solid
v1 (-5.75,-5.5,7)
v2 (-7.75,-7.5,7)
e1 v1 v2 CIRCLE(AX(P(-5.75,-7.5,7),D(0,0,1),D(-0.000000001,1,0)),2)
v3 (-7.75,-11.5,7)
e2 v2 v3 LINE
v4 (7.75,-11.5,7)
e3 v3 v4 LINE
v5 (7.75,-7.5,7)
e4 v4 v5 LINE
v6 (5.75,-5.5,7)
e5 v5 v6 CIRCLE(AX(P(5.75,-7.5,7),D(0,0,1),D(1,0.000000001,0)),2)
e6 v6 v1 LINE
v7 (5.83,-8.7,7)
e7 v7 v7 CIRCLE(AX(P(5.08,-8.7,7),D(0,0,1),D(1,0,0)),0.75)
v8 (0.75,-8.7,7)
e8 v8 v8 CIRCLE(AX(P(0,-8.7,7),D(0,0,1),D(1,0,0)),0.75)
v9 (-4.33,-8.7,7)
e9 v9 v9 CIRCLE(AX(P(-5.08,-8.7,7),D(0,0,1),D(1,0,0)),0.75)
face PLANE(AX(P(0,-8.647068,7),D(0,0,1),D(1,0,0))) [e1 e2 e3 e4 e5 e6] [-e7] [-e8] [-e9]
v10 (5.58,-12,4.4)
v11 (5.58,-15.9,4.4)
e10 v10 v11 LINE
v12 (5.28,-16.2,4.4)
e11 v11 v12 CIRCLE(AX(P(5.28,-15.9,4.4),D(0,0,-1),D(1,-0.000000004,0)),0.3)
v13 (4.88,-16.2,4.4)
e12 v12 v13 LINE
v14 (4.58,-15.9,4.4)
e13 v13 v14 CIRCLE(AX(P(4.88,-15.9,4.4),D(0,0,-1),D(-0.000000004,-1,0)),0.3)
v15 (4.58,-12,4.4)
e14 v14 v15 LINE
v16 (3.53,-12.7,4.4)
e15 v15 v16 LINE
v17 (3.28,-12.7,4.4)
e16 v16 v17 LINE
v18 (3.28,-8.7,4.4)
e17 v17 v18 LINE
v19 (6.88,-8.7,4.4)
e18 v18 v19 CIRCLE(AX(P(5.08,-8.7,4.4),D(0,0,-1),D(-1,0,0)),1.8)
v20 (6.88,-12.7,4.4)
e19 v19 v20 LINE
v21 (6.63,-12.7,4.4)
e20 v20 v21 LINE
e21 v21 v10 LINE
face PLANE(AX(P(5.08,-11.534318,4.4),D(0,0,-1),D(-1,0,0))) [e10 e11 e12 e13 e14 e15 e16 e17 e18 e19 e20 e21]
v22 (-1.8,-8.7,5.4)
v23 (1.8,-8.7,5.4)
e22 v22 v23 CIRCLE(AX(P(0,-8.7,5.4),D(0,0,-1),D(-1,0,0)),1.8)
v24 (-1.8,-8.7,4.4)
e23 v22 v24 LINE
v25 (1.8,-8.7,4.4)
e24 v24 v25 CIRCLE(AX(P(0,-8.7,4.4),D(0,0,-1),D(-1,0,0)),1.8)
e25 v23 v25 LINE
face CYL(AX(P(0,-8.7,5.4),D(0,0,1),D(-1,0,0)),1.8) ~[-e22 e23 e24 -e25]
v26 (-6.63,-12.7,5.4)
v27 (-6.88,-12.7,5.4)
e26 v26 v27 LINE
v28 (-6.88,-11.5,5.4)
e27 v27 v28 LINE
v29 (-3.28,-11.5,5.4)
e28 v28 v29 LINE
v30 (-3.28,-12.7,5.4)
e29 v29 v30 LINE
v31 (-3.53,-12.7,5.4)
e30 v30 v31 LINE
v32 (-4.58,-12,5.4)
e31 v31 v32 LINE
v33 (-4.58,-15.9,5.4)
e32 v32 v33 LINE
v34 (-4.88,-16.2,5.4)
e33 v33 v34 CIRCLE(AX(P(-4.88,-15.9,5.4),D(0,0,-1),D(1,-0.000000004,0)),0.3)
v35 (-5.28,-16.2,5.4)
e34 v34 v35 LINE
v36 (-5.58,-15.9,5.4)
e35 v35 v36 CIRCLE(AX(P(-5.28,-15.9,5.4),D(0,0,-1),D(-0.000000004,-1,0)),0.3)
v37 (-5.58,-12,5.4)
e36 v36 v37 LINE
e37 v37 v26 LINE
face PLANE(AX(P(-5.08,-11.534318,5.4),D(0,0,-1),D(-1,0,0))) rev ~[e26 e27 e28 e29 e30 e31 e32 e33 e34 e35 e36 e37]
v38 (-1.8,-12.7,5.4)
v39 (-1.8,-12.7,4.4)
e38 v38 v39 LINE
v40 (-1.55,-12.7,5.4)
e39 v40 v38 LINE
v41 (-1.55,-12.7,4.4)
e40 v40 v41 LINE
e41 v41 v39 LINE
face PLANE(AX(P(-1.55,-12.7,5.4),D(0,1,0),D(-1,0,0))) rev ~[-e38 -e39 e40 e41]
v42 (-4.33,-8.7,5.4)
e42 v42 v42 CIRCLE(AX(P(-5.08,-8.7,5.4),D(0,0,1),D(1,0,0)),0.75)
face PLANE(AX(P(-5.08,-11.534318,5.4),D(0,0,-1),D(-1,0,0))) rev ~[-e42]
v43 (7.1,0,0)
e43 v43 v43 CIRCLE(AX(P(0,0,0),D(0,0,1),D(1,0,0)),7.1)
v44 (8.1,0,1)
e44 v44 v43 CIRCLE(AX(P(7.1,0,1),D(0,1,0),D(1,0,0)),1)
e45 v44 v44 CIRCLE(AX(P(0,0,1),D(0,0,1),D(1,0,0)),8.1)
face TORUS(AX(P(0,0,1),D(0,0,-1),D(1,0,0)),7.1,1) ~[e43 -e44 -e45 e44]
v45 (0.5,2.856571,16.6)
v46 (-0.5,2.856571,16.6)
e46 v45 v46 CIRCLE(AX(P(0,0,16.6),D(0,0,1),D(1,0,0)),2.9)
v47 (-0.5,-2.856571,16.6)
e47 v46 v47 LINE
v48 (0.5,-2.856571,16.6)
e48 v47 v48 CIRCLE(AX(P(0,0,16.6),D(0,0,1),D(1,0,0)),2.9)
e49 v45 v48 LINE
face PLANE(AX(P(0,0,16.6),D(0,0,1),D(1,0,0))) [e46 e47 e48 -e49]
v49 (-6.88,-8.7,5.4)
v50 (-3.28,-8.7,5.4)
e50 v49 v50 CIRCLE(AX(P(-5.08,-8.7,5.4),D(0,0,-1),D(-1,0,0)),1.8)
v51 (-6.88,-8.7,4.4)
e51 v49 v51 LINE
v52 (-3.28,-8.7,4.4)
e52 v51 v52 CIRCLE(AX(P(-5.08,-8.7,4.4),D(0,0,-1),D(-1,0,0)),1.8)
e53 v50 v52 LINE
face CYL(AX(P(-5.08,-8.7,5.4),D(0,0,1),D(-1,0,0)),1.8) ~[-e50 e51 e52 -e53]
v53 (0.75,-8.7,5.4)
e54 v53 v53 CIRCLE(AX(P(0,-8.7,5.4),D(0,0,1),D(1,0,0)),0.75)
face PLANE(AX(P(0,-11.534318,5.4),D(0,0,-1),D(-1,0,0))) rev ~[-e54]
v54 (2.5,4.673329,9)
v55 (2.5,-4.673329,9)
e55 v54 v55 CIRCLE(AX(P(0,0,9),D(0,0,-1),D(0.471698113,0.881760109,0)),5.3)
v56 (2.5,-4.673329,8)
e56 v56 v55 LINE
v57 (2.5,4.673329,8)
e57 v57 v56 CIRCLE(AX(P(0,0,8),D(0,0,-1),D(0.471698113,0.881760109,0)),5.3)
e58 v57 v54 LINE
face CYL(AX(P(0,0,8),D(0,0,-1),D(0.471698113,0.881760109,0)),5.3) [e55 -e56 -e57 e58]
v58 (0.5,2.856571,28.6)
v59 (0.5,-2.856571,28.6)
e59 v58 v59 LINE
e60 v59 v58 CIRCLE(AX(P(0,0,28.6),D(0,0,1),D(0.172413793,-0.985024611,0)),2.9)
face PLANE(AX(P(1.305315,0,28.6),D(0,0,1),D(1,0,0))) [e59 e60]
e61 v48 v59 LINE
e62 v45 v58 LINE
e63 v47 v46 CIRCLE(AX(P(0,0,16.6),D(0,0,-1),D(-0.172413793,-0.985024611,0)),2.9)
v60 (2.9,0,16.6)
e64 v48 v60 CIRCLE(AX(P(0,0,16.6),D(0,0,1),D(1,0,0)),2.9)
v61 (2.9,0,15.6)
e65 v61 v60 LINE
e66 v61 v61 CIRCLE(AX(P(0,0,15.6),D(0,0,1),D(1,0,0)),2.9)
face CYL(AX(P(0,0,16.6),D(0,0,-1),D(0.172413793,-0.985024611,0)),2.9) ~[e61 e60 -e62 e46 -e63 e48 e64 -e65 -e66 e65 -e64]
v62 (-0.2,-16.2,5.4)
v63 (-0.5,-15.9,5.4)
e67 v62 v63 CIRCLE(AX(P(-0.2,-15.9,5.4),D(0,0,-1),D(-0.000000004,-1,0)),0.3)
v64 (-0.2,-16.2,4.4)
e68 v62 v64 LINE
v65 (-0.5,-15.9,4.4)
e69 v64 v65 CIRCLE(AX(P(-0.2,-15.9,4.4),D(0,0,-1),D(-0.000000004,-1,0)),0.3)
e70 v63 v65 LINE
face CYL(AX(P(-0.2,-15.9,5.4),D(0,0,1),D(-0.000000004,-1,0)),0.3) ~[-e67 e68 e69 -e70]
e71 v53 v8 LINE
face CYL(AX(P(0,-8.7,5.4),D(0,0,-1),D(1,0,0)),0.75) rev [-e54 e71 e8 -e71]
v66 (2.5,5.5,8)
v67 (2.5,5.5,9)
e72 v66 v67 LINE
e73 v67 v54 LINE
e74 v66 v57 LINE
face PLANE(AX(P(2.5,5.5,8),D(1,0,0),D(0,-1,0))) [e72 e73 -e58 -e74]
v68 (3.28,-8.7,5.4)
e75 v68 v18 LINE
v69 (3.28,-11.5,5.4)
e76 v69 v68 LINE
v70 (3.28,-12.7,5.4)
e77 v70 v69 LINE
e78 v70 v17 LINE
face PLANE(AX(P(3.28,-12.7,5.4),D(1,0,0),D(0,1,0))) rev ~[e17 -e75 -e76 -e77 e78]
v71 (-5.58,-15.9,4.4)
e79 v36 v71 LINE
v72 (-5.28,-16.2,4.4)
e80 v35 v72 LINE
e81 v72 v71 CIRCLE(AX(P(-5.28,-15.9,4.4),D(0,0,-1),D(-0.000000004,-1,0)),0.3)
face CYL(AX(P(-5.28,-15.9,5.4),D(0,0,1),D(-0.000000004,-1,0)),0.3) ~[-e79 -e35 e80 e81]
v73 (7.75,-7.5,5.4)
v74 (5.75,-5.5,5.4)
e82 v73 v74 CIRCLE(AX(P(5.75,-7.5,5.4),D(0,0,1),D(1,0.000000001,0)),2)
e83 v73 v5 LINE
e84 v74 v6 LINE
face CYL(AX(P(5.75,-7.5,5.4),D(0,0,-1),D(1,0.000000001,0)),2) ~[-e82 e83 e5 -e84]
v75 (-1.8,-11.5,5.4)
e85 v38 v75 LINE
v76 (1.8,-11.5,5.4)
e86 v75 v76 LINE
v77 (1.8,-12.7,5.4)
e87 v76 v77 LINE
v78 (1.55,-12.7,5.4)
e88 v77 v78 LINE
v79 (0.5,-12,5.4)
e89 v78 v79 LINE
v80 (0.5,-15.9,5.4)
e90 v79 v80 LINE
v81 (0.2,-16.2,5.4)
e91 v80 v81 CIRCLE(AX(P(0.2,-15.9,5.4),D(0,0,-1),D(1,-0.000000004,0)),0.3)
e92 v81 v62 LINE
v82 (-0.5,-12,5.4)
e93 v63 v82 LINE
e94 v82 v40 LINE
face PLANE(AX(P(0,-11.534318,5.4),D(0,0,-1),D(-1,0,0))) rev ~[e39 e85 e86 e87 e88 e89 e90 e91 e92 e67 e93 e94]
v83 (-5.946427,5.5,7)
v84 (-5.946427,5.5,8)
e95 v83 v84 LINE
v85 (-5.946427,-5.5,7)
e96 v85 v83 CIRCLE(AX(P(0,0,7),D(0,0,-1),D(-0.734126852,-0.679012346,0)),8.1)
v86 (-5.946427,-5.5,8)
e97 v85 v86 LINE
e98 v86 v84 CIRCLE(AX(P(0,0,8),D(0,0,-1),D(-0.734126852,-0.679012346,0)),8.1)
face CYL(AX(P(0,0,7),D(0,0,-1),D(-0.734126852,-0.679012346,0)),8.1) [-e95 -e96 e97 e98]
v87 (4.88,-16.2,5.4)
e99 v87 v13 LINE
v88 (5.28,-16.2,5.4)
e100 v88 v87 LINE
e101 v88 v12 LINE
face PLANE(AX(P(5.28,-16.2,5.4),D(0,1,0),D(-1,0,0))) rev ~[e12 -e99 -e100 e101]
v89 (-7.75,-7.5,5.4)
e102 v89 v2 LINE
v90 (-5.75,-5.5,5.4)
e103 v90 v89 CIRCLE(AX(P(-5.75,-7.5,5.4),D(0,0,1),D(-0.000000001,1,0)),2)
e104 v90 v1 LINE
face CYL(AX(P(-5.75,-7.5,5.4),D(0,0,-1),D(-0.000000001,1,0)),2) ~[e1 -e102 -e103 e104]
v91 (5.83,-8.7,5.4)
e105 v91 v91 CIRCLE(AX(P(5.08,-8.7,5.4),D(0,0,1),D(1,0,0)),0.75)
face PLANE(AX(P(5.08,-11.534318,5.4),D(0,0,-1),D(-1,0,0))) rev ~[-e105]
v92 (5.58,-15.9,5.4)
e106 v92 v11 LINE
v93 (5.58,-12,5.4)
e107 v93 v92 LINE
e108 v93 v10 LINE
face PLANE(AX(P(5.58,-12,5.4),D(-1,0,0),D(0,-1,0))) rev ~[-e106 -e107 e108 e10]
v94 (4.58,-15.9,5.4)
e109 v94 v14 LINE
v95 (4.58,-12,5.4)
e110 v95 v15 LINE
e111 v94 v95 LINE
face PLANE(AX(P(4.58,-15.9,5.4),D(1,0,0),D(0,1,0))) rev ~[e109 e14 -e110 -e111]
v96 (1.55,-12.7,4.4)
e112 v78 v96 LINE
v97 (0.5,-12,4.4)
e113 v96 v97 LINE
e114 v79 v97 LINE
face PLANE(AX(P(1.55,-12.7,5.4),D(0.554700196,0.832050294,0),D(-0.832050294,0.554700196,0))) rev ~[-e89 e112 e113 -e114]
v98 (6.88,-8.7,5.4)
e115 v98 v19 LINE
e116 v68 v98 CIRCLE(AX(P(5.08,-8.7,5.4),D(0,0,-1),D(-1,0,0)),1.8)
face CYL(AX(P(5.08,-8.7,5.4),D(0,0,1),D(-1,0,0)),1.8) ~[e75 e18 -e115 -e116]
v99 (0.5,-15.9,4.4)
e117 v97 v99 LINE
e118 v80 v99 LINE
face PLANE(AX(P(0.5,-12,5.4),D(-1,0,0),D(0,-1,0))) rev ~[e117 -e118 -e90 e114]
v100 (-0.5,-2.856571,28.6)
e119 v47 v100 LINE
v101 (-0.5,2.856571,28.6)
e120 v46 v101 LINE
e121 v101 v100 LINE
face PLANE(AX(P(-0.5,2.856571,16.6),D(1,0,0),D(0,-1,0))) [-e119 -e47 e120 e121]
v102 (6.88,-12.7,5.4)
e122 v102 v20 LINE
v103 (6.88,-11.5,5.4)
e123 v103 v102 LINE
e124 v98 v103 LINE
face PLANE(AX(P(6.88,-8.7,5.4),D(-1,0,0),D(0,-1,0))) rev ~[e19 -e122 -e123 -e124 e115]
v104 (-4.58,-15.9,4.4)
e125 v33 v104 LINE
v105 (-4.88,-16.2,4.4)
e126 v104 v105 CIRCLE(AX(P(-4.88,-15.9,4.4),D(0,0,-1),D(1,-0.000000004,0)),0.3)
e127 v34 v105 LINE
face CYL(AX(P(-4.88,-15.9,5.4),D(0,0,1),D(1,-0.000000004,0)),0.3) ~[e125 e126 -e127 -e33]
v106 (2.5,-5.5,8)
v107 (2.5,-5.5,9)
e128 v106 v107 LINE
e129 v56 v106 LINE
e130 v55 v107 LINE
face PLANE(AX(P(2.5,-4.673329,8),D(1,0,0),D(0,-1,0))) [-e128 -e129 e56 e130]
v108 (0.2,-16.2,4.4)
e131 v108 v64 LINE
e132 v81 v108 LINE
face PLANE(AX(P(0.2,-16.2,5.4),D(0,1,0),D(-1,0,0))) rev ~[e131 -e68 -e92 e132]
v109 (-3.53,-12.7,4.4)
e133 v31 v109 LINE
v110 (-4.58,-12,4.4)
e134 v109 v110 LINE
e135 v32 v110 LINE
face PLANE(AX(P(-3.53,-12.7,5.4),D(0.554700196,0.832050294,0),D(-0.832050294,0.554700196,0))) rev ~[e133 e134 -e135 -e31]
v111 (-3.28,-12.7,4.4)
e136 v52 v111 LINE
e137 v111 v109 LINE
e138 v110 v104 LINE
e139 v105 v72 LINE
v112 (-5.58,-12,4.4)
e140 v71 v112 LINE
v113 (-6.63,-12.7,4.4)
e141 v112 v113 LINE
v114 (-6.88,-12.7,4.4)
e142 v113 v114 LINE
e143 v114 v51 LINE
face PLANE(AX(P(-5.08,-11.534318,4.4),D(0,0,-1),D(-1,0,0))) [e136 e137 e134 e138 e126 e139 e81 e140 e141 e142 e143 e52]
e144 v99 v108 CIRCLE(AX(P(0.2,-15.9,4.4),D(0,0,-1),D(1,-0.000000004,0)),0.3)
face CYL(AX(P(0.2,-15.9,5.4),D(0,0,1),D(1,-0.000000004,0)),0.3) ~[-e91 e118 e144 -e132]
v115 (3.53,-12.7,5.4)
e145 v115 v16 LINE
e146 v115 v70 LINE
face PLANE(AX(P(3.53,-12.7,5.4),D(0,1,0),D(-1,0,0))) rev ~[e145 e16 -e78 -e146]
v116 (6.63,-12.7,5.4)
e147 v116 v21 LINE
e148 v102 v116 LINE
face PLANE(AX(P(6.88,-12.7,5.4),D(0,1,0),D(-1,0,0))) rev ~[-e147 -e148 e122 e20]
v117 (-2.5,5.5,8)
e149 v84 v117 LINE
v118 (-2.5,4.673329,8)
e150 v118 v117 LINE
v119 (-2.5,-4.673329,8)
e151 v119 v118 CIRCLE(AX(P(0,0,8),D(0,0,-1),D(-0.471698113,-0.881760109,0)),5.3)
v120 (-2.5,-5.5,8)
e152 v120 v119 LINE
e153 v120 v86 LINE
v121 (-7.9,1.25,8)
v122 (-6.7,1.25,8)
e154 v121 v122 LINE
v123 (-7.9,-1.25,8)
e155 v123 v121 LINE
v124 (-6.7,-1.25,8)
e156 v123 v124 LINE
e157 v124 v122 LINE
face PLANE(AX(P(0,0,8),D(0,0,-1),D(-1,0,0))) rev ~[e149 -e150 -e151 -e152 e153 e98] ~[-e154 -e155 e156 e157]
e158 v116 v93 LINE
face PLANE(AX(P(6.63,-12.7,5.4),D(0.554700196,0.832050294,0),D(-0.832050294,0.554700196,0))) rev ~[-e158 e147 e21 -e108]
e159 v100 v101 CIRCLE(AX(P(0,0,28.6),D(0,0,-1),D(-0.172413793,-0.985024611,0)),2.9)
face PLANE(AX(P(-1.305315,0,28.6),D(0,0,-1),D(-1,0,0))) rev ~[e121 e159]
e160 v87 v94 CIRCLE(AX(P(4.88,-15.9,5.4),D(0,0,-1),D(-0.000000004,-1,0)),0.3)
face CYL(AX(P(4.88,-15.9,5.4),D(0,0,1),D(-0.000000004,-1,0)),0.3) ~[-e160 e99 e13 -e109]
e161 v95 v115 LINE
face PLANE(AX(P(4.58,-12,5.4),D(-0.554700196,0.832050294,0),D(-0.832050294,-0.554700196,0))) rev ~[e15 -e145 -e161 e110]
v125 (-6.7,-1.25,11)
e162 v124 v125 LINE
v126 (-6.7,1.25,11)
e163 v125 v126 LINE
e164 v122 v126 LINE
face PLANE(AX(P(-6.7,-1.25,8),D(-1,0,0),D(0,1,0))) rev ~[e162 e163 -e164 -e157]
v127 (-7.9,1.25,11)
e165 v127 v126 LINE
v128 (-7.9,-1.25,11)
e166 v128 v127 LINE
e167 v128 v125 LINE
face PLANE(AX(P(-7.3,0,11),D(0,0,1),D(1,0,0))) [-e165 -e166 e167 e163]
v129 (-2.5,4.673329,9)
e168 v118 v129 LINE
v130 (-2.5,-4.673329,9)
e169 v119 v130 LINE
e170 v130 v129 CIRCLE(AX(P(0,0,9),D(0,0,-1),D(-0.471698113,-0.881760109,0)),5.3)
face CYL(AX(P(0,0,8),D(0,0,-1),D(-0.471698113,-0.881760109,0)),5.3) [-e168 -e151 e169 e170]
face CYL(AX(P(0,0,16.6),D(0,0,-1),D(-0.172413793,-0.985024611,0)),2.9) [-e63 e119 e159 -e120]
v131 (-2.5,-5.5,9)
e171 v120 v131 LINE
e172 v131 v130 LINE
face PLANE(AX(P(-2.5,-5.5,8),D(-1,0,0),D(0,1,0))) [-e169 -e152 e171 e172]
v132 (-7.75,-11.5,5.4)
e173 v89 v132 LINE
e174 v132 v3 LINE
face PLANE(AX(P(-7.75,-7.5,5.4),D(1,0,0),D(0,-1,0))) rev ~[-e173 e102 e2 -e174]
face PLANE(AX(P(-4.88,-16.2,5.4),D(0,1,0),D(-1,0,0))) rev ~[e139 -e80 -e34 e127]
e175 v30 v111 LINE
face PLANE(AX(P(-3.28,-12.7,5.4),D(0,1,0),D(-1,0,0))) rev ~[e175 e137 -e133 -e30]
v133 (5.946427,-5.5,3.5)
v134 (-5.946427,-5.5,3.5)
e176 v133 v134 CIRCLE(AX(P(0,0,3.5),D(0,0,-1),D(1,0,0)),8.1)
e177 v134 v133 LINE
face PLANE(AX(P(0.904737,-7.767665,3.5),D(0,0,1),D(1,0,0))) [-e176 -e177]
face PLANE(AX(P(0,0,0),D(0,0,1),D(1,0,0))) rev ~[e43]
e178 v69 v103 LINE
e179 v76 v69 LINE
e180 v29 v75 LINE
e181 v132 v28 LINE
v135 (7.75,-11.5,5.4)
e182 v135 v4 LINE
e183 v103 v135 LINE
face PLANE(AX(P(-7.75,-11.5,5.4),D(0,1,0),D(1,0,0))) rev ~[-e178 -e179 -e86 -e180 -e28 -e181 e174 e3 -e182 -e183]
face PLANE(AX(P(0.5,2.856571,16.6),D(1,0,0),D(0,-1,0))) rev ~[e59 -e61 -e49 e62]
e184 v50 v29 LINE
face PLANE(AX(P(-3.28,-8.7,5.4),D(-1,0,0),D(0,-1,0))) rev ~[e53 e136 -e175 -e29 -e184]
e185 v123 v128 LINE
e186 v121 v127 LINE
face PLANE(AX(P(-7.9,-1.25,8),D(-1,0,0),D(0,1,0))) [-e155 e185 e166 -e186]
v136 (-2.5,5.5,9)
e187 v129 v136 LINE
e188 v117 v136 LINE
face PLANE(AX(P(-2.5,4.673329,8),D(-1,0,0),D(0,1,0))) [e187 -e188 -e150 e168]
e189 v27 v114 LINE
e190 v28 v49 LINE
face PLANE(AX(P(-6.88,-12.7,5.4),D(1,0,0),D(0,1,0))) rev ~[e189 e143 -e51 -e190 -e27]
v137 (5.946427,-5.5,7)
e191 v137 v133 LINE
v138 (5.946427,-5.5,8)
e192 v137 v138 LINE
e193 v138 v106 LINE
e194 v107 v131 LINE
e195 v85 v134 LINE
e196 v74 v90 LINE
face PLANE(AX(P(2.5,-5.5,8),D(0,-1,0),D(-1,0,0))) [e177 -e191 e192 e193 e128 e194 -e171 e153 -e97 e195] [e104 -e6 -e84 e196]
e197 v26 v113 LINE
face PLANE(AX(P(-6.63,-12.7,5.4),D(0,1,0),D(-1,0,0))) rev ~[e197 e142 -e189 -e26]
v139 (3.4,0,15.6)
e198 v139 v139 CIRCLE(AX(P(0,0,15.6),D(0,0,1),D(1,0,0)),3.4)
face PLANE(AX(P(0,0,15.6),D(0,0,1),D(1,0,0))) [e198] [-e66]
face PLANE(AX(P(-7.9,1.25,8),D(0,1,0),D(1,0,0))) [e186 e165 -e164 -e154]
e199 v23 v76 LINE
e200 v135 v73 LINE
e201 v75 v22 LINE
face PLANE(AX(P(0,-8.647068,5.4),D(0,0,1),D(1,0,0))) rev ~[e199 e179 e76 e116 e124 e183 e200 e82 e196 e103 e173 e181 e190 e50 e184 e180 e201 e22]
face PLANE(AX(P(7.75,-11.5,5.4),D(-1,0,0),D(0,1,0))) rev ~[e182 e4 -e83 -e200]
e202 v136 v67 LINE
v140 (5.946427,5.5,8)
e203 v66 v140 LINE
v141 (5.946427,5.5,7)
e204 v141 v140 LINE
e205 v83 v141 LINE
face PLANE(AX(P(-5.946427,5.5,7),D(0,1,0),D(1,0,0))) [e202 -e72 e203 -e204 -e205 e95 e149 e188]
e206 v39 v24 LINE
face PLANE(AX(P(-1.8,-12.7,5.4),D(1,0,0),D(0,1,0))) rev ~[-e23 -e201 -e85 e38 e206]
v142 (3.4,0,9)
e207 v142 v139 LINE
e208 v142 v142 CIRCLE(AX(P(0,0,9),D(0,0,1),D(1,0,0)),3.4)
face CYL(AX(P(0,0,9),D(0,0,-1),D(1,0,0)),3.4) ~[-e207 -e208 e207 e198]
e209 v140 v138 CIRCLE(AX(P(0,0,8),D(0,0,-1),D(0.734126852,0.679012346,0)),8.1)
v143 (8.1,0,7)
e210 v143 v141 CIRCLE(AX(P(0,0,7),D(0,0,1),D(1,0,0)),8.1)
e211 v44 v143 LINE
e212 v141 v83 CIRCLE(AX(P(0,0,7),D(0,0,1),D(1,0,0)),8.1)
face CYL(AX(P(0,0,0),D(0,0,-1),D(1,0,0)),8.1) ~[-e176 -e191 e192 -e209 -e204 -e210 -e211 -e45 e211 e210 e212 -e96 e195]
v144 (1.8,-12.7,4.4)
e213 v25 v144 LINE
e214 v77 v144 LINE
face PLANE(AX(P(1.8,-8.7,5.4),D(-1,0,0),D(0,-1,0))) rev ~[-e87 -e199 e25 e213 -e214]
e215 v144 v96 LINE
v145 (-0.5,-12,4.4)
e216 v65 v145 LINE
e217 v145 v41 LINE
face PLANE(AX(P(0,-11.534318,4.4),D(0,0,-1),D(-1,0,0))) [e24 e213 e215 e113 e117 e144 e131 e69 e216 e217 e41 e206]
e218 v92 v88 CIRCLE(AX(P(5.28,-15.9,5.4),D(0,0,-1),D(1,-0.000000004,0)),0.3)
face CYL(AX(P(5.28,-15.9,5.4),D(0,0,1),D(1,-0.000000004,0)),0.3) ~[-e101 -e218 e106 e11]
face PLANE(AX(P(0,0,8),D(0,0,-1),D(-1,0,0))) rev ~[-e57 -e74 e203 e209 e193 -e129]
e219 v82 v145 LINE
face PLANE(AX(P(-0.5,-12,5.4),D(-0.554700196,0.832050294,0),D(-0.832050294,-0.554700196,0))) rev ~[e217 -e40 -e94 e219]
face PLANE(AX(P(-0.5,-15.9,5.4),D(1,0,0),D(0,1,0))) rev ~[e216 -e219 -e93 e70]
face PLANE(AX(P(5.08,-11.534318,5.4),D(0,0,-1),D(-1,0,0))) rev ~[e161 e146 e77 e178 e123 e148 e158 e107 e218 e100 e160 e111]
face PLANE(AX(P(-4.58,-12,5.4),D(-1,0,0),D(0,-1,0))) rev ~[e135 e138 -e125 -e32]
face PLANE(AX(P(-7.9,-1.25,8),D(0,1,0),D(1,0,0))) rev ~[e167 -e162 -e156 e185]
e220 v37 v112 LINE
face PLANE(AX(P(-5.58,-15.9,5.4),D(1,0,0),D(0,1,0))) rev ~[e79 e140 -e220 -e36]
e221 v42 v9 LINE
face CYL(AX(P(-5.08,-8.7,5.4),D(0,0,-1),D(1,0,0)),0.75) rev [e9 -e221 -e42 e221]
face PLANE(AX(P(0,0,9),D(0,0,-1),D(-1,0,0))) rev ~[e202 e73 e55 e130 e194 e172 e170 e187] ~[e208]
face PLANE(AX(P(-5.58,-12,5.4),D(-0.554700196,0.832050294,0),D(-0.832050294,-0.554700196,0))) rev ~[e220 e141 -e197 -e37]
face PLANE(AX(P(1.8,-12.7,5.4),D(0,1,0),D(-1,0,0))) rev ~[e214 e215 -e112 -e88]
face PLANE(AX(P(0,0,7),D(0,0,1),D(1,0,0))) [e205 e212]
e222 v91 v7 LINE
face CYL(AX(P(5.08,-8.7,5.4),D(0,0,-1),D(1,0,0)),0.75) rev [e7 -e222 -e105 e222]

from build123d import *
from build123d.topology import SkipClean

# Parameters (mm, degrees)
IZIM1_R                     = 8.1
Y_KSEKLIK_EKSTR_ZYON1_DEPTH = 7
RADYUS1_R                   = 1
Y_KSEKLIK_EKSTR_ZYON2_DEPTH = 1
Y_KSEKLIK_EKSTR_ZYON3_DEPTH = 1
IZIM4_W                     = 1.2
IZIM4_H                     = 2.5
Y_KSEKLIK_EKSTR_ZYON4_DEPTH = 3
IZIM5_R                     = 3.4
Y_KSEKLIK_EKSTR_ZYON5_DEPTH = 6.6
IZIM6_R                     = 2.9
Y_KSEKLIK_EKSTR_ZYON6_DEPTH = 1
Y_KSEKLIK_EKSTR_ZYON7_DEPTH = 12
IZIM8_W                     = 13.702328024
IZIM8_H                     = 4.535329086
KES_EKSTR_ZYON1_DEPTH       = 3.5
Y_KSEKLIK_EKSTR_ZYON8_START = 1.9
IZIM9_R                     = 0.75
Y_KSEKLIK_EKSTR_ZYON8_DEPTH = 1.6
Y_KSEKLIK_EKSTR_ZYON9_DEPTH = 1


with BuildPart() as part:
    # Çizim1 → Yükseklik-Ekstrüzyon1 (new body)
    with BuildSketch(Plane.XY):
        Circle(IZIM1_R)
    extrude(amount=Y_KSEKLIK_EKSTR_ZYON1_DEPTH)

    # Radyus1
    radyus1_edges = [part.edges().sort_by_distance(p)[0] for p in [
        (-8.1, 0, 0),
    ]]
    fillet(radyus1_edges, radius=RADYUS1_R)

    # Çizim2 → Yükseklik-Ekstrüzyon2 (add)
    with SkipClean():  # the faces are left unmerged after this step: merging them gives an invalid solid
        with BuildSketch(Plane.XY.offset(7)):
            with BuildLine():
                Line((-5.946427499, 5.5), (5.946427499, 5.5))
                ThreePointArc((5.946427499, 5.5), (8.1, 0), (5.946427499, -5.5))
                Line((5.946427499, -5.5), (-5.946427499, -5.5))
                ThreePointArc((-5.946427499, -5.5), (-8.1, 0), (-5.946427499, 5.5))
            make_face()
        extrude(amount=Y_KSEKLIK_EKSTR_ZYON2_DEPTH)

    # Çizim3 → Yükseklik-Ekstrüzyon3 (add)
    with BuildSketch(Plane.XY.offset(8)):
        with BuildLine():
            Line((-2.5, 5.5), (2.5, 5.5))
            Line((2.5, 5.5), (2.5, 4.673328578))
            ThreePointArc((2.5, 4.673328578), (5.3, 0), (2.5, -4.673328578))
            Line((2.5, -4.673328578), (2.5, -5.5))
            Line((2.5, -5.5), (-2.5, -5.5))
            Line((-2.5, -5.5), (-2.5, -4.673328578))
            ThreePointArc((-2.5, -4.673328578), (-5.3, 0), (-2.5, 4.673328578))
            Line((-2.5, 4.673328578), (-2.5, 5.5))
        make_face()
    extrude(amount=Y_KSEKLIK_EKSTR_ZYON3_DEPTH)

    # Çizim4 → Yükseklik-Ekstrüzyon4 (add)
    with BuildSketch(Plane.XY.offset(8)):
        with Locations((-7.3, 0)):
            Rectangle(IZIM4_W, IZIM4_H)
    extrude(amount=Y_KSEKLIK_EKSTR_ZYON4_DEPTH)

    # Çizim5 → Yükseklik-Ekstrüzyon5 (add)
    with BuildSketch(Plane.XY.offset(9)):
        Circle(IZIM5_R)
    extrude(amount=Y_KSEKLIK_EKSTR_ZYON5_DEPTH)

    # Çizim6 → Yükseklik-Ekstrüzyon6 (add)
    with BuildSketch(Plane.XY.offset(15.6)):
        Circle(IZIM6_R)
    extrude(amount=Y_KSEKLIK_EKSTR_ZYON6_DEPTH)

    # Çizim7 → Yükseklik-Ekstrüzyon7 (add)
    with SkipClean():  # the faces are left unmerged after this step: merging them gives an invalid solid
        with BuildSketch(Plane.XY.offset(16.6)):
            with BuildLine():
                Line((-0.5, 2.856571371), (-0.5, -2.856571371))
                ThreePointArc((-0.5, -2.856571371), (-2.9, 0), (-0.5, 2.856571371))
            make_face()
            with BuildLine():
                Line((0.5, 2.856571371), (0.5, -2.856571371))
                ThreePointArc((0.5, -2.856571371), (2.9, 0), (0.5, 2.856571371))
            make_face()
        extrude(amount=Y_KSEKLIK_EKSTR_ZYON7_DEPTH)

    # Çizim8 → Kes-Ekstrüzyon1 (cut)
    with BuildSketch(Plane.XY.offset(7)):
        with Locations((0.904736513, -7.767664543)):
            Rectangle(IZIM8_W, IZIM8_H)
    extrude(amount=-KES_EKSTR_ZYON1_DEPTH, mode=Mode.SUBTRACT)

    # Çizim9 → Yükseklik-Ekstrüzyon8 (add)
    with BuildSketch(Plane.XY.offset(3.5).offset(Y_KSEKLIK_EKSTR_ZYON8_START)):
        with BuildLine():
            Line((-7.75, -11.5), (7.75, -11.5))
            Line((7.75, -11.5), (7.75, -7.5))
            ThreePointArc((7.75, -7.5), (7.164213562, -6.085786438), (5.75, -5.5))
            Line((5.75, -5.5), (-5.75, -5.5))
            ThreePointArc((-5.75, -5.5), (-7.164213562, -6.085786438), (-7.75, -7.5))
            Line((-7.75, -7.5), (-7.75, -11.5))
        make_face()
        with Locations((0, -8.7)):
            Circle(IZIM9_R, mode=Mode.SUBTRACT)
        with Locations((5.08, -8.7)):
            Circle(IZIM9_R, mode=Mode.SUBTRACT)
        with Locations((-5.08, -8.7)):
            Circle(IZIM9_R, mode=Mode.SUBTRACT)
    extrude(amount=Y_KSEKLIK_EKSTR_ZYON8_DEPTH)

    # Çizim10 → Yükseklik-Ekstrüzyon9 (add)
    with BuildSketch(Plane(origin=(0, 0, 5.4), x_dir=(-1, 0, 0), z_dir=(0, 0, -1))):
        with BuildLine():
            Line((3.53, -12.7), (4.58, -12))
            Line((4.58, -12), (4.58, -15.9))
            ThreePointArc((4.58, -15.9), (4.667867966, -16.112132034), (4.88, -16.2))
            Line((4.88, -16.2), (5.28, -16.2))
            ThreePointArc((5.28, -16.2), (5.492132034, -16.112132034), (5.58, -15.9))
            Line((5.58, -15.9), (5.58, -12))
            Line((5.58, -12), (6.63, -12.7))
            Line((6.63, -12.7), (6.88, -12.7))
            Line((6.88, -12.7), (6.88, -8.7))
            ThreePointArc((6.88, -8.7), (5.08, -6.9), (3.28, -8.7))
            Line((3.28, -8.7), (3.28, -12.7))
            Line((3.28, -12.7), (3.53, -12.7))
        make_face()
        with BuildLine():
            Line((-1.55, -12.7), (-0.5, -12))
            Line((-0.5, -12), (-0.5, -15.9))
            ThreePointArc((-0.5, -15.9), (-0.412132034, -16.112132034), (-0.2, -16.2))
            Line((-0.2, -16.2), (0.2, -16.2))
            ThreePointArc((0.2, -16.2), (0.412132034, -16.112132034), (0.5, -15.9))
            Line((0.5, -15.9), (0.5, -12))
            Line((0.5, -12), (1.55, -12.7))
            Line((1.55, -12.7), (1.8, -12.7))
            Line((1.8, -12.7), (1.8, -8.7))
            ThreePointArc((1.8, -8.7), (0, -6.9), (-1.8, -8.7))
            Line((-1.8, -8.7), (-1.8, -12.7))
            Line((-1.8, -12.7), (-1.55, -12.7))
        make_face()
        with BuildLine():
            Line((-6.63, -12.7), (-5.58, -12))
            Line((-5.58, -12), (-5.58, -15.9))
            ThreePointArc((-5.58, -15.9), (-5.492132034, -16.112132034), (-5.28, -16.2))
            Line((-5.28, -16.2), (-4.88, -16.2))
            ThreePointArc((-4.88, -16.2), (-4.667867966, -16.112132034), (-4.58, -15.9))
            Line((-4.58, -15.9), (-4.58, -12))
            Line((-4.58, -12), (-3.53, -12.7))
            Line((-3.53, -12.7), (-3.28, -12.7))
            Line((-3.28, -12.7), (-3.28, -8.7))
            ThreePointArc((-3.28, -8.7), (-5.08, -6.9), (-6.88, -8.7))
            Line((-6.88, -8.7), (-6.88, -12.7))
            Line((-6.88, -12.7), (-6.63, -12.7))
        make_face()
    extrude(amount=Y_KSEKLIK_EKSTR_ZYON9_DEPTH)


solid = part.part
